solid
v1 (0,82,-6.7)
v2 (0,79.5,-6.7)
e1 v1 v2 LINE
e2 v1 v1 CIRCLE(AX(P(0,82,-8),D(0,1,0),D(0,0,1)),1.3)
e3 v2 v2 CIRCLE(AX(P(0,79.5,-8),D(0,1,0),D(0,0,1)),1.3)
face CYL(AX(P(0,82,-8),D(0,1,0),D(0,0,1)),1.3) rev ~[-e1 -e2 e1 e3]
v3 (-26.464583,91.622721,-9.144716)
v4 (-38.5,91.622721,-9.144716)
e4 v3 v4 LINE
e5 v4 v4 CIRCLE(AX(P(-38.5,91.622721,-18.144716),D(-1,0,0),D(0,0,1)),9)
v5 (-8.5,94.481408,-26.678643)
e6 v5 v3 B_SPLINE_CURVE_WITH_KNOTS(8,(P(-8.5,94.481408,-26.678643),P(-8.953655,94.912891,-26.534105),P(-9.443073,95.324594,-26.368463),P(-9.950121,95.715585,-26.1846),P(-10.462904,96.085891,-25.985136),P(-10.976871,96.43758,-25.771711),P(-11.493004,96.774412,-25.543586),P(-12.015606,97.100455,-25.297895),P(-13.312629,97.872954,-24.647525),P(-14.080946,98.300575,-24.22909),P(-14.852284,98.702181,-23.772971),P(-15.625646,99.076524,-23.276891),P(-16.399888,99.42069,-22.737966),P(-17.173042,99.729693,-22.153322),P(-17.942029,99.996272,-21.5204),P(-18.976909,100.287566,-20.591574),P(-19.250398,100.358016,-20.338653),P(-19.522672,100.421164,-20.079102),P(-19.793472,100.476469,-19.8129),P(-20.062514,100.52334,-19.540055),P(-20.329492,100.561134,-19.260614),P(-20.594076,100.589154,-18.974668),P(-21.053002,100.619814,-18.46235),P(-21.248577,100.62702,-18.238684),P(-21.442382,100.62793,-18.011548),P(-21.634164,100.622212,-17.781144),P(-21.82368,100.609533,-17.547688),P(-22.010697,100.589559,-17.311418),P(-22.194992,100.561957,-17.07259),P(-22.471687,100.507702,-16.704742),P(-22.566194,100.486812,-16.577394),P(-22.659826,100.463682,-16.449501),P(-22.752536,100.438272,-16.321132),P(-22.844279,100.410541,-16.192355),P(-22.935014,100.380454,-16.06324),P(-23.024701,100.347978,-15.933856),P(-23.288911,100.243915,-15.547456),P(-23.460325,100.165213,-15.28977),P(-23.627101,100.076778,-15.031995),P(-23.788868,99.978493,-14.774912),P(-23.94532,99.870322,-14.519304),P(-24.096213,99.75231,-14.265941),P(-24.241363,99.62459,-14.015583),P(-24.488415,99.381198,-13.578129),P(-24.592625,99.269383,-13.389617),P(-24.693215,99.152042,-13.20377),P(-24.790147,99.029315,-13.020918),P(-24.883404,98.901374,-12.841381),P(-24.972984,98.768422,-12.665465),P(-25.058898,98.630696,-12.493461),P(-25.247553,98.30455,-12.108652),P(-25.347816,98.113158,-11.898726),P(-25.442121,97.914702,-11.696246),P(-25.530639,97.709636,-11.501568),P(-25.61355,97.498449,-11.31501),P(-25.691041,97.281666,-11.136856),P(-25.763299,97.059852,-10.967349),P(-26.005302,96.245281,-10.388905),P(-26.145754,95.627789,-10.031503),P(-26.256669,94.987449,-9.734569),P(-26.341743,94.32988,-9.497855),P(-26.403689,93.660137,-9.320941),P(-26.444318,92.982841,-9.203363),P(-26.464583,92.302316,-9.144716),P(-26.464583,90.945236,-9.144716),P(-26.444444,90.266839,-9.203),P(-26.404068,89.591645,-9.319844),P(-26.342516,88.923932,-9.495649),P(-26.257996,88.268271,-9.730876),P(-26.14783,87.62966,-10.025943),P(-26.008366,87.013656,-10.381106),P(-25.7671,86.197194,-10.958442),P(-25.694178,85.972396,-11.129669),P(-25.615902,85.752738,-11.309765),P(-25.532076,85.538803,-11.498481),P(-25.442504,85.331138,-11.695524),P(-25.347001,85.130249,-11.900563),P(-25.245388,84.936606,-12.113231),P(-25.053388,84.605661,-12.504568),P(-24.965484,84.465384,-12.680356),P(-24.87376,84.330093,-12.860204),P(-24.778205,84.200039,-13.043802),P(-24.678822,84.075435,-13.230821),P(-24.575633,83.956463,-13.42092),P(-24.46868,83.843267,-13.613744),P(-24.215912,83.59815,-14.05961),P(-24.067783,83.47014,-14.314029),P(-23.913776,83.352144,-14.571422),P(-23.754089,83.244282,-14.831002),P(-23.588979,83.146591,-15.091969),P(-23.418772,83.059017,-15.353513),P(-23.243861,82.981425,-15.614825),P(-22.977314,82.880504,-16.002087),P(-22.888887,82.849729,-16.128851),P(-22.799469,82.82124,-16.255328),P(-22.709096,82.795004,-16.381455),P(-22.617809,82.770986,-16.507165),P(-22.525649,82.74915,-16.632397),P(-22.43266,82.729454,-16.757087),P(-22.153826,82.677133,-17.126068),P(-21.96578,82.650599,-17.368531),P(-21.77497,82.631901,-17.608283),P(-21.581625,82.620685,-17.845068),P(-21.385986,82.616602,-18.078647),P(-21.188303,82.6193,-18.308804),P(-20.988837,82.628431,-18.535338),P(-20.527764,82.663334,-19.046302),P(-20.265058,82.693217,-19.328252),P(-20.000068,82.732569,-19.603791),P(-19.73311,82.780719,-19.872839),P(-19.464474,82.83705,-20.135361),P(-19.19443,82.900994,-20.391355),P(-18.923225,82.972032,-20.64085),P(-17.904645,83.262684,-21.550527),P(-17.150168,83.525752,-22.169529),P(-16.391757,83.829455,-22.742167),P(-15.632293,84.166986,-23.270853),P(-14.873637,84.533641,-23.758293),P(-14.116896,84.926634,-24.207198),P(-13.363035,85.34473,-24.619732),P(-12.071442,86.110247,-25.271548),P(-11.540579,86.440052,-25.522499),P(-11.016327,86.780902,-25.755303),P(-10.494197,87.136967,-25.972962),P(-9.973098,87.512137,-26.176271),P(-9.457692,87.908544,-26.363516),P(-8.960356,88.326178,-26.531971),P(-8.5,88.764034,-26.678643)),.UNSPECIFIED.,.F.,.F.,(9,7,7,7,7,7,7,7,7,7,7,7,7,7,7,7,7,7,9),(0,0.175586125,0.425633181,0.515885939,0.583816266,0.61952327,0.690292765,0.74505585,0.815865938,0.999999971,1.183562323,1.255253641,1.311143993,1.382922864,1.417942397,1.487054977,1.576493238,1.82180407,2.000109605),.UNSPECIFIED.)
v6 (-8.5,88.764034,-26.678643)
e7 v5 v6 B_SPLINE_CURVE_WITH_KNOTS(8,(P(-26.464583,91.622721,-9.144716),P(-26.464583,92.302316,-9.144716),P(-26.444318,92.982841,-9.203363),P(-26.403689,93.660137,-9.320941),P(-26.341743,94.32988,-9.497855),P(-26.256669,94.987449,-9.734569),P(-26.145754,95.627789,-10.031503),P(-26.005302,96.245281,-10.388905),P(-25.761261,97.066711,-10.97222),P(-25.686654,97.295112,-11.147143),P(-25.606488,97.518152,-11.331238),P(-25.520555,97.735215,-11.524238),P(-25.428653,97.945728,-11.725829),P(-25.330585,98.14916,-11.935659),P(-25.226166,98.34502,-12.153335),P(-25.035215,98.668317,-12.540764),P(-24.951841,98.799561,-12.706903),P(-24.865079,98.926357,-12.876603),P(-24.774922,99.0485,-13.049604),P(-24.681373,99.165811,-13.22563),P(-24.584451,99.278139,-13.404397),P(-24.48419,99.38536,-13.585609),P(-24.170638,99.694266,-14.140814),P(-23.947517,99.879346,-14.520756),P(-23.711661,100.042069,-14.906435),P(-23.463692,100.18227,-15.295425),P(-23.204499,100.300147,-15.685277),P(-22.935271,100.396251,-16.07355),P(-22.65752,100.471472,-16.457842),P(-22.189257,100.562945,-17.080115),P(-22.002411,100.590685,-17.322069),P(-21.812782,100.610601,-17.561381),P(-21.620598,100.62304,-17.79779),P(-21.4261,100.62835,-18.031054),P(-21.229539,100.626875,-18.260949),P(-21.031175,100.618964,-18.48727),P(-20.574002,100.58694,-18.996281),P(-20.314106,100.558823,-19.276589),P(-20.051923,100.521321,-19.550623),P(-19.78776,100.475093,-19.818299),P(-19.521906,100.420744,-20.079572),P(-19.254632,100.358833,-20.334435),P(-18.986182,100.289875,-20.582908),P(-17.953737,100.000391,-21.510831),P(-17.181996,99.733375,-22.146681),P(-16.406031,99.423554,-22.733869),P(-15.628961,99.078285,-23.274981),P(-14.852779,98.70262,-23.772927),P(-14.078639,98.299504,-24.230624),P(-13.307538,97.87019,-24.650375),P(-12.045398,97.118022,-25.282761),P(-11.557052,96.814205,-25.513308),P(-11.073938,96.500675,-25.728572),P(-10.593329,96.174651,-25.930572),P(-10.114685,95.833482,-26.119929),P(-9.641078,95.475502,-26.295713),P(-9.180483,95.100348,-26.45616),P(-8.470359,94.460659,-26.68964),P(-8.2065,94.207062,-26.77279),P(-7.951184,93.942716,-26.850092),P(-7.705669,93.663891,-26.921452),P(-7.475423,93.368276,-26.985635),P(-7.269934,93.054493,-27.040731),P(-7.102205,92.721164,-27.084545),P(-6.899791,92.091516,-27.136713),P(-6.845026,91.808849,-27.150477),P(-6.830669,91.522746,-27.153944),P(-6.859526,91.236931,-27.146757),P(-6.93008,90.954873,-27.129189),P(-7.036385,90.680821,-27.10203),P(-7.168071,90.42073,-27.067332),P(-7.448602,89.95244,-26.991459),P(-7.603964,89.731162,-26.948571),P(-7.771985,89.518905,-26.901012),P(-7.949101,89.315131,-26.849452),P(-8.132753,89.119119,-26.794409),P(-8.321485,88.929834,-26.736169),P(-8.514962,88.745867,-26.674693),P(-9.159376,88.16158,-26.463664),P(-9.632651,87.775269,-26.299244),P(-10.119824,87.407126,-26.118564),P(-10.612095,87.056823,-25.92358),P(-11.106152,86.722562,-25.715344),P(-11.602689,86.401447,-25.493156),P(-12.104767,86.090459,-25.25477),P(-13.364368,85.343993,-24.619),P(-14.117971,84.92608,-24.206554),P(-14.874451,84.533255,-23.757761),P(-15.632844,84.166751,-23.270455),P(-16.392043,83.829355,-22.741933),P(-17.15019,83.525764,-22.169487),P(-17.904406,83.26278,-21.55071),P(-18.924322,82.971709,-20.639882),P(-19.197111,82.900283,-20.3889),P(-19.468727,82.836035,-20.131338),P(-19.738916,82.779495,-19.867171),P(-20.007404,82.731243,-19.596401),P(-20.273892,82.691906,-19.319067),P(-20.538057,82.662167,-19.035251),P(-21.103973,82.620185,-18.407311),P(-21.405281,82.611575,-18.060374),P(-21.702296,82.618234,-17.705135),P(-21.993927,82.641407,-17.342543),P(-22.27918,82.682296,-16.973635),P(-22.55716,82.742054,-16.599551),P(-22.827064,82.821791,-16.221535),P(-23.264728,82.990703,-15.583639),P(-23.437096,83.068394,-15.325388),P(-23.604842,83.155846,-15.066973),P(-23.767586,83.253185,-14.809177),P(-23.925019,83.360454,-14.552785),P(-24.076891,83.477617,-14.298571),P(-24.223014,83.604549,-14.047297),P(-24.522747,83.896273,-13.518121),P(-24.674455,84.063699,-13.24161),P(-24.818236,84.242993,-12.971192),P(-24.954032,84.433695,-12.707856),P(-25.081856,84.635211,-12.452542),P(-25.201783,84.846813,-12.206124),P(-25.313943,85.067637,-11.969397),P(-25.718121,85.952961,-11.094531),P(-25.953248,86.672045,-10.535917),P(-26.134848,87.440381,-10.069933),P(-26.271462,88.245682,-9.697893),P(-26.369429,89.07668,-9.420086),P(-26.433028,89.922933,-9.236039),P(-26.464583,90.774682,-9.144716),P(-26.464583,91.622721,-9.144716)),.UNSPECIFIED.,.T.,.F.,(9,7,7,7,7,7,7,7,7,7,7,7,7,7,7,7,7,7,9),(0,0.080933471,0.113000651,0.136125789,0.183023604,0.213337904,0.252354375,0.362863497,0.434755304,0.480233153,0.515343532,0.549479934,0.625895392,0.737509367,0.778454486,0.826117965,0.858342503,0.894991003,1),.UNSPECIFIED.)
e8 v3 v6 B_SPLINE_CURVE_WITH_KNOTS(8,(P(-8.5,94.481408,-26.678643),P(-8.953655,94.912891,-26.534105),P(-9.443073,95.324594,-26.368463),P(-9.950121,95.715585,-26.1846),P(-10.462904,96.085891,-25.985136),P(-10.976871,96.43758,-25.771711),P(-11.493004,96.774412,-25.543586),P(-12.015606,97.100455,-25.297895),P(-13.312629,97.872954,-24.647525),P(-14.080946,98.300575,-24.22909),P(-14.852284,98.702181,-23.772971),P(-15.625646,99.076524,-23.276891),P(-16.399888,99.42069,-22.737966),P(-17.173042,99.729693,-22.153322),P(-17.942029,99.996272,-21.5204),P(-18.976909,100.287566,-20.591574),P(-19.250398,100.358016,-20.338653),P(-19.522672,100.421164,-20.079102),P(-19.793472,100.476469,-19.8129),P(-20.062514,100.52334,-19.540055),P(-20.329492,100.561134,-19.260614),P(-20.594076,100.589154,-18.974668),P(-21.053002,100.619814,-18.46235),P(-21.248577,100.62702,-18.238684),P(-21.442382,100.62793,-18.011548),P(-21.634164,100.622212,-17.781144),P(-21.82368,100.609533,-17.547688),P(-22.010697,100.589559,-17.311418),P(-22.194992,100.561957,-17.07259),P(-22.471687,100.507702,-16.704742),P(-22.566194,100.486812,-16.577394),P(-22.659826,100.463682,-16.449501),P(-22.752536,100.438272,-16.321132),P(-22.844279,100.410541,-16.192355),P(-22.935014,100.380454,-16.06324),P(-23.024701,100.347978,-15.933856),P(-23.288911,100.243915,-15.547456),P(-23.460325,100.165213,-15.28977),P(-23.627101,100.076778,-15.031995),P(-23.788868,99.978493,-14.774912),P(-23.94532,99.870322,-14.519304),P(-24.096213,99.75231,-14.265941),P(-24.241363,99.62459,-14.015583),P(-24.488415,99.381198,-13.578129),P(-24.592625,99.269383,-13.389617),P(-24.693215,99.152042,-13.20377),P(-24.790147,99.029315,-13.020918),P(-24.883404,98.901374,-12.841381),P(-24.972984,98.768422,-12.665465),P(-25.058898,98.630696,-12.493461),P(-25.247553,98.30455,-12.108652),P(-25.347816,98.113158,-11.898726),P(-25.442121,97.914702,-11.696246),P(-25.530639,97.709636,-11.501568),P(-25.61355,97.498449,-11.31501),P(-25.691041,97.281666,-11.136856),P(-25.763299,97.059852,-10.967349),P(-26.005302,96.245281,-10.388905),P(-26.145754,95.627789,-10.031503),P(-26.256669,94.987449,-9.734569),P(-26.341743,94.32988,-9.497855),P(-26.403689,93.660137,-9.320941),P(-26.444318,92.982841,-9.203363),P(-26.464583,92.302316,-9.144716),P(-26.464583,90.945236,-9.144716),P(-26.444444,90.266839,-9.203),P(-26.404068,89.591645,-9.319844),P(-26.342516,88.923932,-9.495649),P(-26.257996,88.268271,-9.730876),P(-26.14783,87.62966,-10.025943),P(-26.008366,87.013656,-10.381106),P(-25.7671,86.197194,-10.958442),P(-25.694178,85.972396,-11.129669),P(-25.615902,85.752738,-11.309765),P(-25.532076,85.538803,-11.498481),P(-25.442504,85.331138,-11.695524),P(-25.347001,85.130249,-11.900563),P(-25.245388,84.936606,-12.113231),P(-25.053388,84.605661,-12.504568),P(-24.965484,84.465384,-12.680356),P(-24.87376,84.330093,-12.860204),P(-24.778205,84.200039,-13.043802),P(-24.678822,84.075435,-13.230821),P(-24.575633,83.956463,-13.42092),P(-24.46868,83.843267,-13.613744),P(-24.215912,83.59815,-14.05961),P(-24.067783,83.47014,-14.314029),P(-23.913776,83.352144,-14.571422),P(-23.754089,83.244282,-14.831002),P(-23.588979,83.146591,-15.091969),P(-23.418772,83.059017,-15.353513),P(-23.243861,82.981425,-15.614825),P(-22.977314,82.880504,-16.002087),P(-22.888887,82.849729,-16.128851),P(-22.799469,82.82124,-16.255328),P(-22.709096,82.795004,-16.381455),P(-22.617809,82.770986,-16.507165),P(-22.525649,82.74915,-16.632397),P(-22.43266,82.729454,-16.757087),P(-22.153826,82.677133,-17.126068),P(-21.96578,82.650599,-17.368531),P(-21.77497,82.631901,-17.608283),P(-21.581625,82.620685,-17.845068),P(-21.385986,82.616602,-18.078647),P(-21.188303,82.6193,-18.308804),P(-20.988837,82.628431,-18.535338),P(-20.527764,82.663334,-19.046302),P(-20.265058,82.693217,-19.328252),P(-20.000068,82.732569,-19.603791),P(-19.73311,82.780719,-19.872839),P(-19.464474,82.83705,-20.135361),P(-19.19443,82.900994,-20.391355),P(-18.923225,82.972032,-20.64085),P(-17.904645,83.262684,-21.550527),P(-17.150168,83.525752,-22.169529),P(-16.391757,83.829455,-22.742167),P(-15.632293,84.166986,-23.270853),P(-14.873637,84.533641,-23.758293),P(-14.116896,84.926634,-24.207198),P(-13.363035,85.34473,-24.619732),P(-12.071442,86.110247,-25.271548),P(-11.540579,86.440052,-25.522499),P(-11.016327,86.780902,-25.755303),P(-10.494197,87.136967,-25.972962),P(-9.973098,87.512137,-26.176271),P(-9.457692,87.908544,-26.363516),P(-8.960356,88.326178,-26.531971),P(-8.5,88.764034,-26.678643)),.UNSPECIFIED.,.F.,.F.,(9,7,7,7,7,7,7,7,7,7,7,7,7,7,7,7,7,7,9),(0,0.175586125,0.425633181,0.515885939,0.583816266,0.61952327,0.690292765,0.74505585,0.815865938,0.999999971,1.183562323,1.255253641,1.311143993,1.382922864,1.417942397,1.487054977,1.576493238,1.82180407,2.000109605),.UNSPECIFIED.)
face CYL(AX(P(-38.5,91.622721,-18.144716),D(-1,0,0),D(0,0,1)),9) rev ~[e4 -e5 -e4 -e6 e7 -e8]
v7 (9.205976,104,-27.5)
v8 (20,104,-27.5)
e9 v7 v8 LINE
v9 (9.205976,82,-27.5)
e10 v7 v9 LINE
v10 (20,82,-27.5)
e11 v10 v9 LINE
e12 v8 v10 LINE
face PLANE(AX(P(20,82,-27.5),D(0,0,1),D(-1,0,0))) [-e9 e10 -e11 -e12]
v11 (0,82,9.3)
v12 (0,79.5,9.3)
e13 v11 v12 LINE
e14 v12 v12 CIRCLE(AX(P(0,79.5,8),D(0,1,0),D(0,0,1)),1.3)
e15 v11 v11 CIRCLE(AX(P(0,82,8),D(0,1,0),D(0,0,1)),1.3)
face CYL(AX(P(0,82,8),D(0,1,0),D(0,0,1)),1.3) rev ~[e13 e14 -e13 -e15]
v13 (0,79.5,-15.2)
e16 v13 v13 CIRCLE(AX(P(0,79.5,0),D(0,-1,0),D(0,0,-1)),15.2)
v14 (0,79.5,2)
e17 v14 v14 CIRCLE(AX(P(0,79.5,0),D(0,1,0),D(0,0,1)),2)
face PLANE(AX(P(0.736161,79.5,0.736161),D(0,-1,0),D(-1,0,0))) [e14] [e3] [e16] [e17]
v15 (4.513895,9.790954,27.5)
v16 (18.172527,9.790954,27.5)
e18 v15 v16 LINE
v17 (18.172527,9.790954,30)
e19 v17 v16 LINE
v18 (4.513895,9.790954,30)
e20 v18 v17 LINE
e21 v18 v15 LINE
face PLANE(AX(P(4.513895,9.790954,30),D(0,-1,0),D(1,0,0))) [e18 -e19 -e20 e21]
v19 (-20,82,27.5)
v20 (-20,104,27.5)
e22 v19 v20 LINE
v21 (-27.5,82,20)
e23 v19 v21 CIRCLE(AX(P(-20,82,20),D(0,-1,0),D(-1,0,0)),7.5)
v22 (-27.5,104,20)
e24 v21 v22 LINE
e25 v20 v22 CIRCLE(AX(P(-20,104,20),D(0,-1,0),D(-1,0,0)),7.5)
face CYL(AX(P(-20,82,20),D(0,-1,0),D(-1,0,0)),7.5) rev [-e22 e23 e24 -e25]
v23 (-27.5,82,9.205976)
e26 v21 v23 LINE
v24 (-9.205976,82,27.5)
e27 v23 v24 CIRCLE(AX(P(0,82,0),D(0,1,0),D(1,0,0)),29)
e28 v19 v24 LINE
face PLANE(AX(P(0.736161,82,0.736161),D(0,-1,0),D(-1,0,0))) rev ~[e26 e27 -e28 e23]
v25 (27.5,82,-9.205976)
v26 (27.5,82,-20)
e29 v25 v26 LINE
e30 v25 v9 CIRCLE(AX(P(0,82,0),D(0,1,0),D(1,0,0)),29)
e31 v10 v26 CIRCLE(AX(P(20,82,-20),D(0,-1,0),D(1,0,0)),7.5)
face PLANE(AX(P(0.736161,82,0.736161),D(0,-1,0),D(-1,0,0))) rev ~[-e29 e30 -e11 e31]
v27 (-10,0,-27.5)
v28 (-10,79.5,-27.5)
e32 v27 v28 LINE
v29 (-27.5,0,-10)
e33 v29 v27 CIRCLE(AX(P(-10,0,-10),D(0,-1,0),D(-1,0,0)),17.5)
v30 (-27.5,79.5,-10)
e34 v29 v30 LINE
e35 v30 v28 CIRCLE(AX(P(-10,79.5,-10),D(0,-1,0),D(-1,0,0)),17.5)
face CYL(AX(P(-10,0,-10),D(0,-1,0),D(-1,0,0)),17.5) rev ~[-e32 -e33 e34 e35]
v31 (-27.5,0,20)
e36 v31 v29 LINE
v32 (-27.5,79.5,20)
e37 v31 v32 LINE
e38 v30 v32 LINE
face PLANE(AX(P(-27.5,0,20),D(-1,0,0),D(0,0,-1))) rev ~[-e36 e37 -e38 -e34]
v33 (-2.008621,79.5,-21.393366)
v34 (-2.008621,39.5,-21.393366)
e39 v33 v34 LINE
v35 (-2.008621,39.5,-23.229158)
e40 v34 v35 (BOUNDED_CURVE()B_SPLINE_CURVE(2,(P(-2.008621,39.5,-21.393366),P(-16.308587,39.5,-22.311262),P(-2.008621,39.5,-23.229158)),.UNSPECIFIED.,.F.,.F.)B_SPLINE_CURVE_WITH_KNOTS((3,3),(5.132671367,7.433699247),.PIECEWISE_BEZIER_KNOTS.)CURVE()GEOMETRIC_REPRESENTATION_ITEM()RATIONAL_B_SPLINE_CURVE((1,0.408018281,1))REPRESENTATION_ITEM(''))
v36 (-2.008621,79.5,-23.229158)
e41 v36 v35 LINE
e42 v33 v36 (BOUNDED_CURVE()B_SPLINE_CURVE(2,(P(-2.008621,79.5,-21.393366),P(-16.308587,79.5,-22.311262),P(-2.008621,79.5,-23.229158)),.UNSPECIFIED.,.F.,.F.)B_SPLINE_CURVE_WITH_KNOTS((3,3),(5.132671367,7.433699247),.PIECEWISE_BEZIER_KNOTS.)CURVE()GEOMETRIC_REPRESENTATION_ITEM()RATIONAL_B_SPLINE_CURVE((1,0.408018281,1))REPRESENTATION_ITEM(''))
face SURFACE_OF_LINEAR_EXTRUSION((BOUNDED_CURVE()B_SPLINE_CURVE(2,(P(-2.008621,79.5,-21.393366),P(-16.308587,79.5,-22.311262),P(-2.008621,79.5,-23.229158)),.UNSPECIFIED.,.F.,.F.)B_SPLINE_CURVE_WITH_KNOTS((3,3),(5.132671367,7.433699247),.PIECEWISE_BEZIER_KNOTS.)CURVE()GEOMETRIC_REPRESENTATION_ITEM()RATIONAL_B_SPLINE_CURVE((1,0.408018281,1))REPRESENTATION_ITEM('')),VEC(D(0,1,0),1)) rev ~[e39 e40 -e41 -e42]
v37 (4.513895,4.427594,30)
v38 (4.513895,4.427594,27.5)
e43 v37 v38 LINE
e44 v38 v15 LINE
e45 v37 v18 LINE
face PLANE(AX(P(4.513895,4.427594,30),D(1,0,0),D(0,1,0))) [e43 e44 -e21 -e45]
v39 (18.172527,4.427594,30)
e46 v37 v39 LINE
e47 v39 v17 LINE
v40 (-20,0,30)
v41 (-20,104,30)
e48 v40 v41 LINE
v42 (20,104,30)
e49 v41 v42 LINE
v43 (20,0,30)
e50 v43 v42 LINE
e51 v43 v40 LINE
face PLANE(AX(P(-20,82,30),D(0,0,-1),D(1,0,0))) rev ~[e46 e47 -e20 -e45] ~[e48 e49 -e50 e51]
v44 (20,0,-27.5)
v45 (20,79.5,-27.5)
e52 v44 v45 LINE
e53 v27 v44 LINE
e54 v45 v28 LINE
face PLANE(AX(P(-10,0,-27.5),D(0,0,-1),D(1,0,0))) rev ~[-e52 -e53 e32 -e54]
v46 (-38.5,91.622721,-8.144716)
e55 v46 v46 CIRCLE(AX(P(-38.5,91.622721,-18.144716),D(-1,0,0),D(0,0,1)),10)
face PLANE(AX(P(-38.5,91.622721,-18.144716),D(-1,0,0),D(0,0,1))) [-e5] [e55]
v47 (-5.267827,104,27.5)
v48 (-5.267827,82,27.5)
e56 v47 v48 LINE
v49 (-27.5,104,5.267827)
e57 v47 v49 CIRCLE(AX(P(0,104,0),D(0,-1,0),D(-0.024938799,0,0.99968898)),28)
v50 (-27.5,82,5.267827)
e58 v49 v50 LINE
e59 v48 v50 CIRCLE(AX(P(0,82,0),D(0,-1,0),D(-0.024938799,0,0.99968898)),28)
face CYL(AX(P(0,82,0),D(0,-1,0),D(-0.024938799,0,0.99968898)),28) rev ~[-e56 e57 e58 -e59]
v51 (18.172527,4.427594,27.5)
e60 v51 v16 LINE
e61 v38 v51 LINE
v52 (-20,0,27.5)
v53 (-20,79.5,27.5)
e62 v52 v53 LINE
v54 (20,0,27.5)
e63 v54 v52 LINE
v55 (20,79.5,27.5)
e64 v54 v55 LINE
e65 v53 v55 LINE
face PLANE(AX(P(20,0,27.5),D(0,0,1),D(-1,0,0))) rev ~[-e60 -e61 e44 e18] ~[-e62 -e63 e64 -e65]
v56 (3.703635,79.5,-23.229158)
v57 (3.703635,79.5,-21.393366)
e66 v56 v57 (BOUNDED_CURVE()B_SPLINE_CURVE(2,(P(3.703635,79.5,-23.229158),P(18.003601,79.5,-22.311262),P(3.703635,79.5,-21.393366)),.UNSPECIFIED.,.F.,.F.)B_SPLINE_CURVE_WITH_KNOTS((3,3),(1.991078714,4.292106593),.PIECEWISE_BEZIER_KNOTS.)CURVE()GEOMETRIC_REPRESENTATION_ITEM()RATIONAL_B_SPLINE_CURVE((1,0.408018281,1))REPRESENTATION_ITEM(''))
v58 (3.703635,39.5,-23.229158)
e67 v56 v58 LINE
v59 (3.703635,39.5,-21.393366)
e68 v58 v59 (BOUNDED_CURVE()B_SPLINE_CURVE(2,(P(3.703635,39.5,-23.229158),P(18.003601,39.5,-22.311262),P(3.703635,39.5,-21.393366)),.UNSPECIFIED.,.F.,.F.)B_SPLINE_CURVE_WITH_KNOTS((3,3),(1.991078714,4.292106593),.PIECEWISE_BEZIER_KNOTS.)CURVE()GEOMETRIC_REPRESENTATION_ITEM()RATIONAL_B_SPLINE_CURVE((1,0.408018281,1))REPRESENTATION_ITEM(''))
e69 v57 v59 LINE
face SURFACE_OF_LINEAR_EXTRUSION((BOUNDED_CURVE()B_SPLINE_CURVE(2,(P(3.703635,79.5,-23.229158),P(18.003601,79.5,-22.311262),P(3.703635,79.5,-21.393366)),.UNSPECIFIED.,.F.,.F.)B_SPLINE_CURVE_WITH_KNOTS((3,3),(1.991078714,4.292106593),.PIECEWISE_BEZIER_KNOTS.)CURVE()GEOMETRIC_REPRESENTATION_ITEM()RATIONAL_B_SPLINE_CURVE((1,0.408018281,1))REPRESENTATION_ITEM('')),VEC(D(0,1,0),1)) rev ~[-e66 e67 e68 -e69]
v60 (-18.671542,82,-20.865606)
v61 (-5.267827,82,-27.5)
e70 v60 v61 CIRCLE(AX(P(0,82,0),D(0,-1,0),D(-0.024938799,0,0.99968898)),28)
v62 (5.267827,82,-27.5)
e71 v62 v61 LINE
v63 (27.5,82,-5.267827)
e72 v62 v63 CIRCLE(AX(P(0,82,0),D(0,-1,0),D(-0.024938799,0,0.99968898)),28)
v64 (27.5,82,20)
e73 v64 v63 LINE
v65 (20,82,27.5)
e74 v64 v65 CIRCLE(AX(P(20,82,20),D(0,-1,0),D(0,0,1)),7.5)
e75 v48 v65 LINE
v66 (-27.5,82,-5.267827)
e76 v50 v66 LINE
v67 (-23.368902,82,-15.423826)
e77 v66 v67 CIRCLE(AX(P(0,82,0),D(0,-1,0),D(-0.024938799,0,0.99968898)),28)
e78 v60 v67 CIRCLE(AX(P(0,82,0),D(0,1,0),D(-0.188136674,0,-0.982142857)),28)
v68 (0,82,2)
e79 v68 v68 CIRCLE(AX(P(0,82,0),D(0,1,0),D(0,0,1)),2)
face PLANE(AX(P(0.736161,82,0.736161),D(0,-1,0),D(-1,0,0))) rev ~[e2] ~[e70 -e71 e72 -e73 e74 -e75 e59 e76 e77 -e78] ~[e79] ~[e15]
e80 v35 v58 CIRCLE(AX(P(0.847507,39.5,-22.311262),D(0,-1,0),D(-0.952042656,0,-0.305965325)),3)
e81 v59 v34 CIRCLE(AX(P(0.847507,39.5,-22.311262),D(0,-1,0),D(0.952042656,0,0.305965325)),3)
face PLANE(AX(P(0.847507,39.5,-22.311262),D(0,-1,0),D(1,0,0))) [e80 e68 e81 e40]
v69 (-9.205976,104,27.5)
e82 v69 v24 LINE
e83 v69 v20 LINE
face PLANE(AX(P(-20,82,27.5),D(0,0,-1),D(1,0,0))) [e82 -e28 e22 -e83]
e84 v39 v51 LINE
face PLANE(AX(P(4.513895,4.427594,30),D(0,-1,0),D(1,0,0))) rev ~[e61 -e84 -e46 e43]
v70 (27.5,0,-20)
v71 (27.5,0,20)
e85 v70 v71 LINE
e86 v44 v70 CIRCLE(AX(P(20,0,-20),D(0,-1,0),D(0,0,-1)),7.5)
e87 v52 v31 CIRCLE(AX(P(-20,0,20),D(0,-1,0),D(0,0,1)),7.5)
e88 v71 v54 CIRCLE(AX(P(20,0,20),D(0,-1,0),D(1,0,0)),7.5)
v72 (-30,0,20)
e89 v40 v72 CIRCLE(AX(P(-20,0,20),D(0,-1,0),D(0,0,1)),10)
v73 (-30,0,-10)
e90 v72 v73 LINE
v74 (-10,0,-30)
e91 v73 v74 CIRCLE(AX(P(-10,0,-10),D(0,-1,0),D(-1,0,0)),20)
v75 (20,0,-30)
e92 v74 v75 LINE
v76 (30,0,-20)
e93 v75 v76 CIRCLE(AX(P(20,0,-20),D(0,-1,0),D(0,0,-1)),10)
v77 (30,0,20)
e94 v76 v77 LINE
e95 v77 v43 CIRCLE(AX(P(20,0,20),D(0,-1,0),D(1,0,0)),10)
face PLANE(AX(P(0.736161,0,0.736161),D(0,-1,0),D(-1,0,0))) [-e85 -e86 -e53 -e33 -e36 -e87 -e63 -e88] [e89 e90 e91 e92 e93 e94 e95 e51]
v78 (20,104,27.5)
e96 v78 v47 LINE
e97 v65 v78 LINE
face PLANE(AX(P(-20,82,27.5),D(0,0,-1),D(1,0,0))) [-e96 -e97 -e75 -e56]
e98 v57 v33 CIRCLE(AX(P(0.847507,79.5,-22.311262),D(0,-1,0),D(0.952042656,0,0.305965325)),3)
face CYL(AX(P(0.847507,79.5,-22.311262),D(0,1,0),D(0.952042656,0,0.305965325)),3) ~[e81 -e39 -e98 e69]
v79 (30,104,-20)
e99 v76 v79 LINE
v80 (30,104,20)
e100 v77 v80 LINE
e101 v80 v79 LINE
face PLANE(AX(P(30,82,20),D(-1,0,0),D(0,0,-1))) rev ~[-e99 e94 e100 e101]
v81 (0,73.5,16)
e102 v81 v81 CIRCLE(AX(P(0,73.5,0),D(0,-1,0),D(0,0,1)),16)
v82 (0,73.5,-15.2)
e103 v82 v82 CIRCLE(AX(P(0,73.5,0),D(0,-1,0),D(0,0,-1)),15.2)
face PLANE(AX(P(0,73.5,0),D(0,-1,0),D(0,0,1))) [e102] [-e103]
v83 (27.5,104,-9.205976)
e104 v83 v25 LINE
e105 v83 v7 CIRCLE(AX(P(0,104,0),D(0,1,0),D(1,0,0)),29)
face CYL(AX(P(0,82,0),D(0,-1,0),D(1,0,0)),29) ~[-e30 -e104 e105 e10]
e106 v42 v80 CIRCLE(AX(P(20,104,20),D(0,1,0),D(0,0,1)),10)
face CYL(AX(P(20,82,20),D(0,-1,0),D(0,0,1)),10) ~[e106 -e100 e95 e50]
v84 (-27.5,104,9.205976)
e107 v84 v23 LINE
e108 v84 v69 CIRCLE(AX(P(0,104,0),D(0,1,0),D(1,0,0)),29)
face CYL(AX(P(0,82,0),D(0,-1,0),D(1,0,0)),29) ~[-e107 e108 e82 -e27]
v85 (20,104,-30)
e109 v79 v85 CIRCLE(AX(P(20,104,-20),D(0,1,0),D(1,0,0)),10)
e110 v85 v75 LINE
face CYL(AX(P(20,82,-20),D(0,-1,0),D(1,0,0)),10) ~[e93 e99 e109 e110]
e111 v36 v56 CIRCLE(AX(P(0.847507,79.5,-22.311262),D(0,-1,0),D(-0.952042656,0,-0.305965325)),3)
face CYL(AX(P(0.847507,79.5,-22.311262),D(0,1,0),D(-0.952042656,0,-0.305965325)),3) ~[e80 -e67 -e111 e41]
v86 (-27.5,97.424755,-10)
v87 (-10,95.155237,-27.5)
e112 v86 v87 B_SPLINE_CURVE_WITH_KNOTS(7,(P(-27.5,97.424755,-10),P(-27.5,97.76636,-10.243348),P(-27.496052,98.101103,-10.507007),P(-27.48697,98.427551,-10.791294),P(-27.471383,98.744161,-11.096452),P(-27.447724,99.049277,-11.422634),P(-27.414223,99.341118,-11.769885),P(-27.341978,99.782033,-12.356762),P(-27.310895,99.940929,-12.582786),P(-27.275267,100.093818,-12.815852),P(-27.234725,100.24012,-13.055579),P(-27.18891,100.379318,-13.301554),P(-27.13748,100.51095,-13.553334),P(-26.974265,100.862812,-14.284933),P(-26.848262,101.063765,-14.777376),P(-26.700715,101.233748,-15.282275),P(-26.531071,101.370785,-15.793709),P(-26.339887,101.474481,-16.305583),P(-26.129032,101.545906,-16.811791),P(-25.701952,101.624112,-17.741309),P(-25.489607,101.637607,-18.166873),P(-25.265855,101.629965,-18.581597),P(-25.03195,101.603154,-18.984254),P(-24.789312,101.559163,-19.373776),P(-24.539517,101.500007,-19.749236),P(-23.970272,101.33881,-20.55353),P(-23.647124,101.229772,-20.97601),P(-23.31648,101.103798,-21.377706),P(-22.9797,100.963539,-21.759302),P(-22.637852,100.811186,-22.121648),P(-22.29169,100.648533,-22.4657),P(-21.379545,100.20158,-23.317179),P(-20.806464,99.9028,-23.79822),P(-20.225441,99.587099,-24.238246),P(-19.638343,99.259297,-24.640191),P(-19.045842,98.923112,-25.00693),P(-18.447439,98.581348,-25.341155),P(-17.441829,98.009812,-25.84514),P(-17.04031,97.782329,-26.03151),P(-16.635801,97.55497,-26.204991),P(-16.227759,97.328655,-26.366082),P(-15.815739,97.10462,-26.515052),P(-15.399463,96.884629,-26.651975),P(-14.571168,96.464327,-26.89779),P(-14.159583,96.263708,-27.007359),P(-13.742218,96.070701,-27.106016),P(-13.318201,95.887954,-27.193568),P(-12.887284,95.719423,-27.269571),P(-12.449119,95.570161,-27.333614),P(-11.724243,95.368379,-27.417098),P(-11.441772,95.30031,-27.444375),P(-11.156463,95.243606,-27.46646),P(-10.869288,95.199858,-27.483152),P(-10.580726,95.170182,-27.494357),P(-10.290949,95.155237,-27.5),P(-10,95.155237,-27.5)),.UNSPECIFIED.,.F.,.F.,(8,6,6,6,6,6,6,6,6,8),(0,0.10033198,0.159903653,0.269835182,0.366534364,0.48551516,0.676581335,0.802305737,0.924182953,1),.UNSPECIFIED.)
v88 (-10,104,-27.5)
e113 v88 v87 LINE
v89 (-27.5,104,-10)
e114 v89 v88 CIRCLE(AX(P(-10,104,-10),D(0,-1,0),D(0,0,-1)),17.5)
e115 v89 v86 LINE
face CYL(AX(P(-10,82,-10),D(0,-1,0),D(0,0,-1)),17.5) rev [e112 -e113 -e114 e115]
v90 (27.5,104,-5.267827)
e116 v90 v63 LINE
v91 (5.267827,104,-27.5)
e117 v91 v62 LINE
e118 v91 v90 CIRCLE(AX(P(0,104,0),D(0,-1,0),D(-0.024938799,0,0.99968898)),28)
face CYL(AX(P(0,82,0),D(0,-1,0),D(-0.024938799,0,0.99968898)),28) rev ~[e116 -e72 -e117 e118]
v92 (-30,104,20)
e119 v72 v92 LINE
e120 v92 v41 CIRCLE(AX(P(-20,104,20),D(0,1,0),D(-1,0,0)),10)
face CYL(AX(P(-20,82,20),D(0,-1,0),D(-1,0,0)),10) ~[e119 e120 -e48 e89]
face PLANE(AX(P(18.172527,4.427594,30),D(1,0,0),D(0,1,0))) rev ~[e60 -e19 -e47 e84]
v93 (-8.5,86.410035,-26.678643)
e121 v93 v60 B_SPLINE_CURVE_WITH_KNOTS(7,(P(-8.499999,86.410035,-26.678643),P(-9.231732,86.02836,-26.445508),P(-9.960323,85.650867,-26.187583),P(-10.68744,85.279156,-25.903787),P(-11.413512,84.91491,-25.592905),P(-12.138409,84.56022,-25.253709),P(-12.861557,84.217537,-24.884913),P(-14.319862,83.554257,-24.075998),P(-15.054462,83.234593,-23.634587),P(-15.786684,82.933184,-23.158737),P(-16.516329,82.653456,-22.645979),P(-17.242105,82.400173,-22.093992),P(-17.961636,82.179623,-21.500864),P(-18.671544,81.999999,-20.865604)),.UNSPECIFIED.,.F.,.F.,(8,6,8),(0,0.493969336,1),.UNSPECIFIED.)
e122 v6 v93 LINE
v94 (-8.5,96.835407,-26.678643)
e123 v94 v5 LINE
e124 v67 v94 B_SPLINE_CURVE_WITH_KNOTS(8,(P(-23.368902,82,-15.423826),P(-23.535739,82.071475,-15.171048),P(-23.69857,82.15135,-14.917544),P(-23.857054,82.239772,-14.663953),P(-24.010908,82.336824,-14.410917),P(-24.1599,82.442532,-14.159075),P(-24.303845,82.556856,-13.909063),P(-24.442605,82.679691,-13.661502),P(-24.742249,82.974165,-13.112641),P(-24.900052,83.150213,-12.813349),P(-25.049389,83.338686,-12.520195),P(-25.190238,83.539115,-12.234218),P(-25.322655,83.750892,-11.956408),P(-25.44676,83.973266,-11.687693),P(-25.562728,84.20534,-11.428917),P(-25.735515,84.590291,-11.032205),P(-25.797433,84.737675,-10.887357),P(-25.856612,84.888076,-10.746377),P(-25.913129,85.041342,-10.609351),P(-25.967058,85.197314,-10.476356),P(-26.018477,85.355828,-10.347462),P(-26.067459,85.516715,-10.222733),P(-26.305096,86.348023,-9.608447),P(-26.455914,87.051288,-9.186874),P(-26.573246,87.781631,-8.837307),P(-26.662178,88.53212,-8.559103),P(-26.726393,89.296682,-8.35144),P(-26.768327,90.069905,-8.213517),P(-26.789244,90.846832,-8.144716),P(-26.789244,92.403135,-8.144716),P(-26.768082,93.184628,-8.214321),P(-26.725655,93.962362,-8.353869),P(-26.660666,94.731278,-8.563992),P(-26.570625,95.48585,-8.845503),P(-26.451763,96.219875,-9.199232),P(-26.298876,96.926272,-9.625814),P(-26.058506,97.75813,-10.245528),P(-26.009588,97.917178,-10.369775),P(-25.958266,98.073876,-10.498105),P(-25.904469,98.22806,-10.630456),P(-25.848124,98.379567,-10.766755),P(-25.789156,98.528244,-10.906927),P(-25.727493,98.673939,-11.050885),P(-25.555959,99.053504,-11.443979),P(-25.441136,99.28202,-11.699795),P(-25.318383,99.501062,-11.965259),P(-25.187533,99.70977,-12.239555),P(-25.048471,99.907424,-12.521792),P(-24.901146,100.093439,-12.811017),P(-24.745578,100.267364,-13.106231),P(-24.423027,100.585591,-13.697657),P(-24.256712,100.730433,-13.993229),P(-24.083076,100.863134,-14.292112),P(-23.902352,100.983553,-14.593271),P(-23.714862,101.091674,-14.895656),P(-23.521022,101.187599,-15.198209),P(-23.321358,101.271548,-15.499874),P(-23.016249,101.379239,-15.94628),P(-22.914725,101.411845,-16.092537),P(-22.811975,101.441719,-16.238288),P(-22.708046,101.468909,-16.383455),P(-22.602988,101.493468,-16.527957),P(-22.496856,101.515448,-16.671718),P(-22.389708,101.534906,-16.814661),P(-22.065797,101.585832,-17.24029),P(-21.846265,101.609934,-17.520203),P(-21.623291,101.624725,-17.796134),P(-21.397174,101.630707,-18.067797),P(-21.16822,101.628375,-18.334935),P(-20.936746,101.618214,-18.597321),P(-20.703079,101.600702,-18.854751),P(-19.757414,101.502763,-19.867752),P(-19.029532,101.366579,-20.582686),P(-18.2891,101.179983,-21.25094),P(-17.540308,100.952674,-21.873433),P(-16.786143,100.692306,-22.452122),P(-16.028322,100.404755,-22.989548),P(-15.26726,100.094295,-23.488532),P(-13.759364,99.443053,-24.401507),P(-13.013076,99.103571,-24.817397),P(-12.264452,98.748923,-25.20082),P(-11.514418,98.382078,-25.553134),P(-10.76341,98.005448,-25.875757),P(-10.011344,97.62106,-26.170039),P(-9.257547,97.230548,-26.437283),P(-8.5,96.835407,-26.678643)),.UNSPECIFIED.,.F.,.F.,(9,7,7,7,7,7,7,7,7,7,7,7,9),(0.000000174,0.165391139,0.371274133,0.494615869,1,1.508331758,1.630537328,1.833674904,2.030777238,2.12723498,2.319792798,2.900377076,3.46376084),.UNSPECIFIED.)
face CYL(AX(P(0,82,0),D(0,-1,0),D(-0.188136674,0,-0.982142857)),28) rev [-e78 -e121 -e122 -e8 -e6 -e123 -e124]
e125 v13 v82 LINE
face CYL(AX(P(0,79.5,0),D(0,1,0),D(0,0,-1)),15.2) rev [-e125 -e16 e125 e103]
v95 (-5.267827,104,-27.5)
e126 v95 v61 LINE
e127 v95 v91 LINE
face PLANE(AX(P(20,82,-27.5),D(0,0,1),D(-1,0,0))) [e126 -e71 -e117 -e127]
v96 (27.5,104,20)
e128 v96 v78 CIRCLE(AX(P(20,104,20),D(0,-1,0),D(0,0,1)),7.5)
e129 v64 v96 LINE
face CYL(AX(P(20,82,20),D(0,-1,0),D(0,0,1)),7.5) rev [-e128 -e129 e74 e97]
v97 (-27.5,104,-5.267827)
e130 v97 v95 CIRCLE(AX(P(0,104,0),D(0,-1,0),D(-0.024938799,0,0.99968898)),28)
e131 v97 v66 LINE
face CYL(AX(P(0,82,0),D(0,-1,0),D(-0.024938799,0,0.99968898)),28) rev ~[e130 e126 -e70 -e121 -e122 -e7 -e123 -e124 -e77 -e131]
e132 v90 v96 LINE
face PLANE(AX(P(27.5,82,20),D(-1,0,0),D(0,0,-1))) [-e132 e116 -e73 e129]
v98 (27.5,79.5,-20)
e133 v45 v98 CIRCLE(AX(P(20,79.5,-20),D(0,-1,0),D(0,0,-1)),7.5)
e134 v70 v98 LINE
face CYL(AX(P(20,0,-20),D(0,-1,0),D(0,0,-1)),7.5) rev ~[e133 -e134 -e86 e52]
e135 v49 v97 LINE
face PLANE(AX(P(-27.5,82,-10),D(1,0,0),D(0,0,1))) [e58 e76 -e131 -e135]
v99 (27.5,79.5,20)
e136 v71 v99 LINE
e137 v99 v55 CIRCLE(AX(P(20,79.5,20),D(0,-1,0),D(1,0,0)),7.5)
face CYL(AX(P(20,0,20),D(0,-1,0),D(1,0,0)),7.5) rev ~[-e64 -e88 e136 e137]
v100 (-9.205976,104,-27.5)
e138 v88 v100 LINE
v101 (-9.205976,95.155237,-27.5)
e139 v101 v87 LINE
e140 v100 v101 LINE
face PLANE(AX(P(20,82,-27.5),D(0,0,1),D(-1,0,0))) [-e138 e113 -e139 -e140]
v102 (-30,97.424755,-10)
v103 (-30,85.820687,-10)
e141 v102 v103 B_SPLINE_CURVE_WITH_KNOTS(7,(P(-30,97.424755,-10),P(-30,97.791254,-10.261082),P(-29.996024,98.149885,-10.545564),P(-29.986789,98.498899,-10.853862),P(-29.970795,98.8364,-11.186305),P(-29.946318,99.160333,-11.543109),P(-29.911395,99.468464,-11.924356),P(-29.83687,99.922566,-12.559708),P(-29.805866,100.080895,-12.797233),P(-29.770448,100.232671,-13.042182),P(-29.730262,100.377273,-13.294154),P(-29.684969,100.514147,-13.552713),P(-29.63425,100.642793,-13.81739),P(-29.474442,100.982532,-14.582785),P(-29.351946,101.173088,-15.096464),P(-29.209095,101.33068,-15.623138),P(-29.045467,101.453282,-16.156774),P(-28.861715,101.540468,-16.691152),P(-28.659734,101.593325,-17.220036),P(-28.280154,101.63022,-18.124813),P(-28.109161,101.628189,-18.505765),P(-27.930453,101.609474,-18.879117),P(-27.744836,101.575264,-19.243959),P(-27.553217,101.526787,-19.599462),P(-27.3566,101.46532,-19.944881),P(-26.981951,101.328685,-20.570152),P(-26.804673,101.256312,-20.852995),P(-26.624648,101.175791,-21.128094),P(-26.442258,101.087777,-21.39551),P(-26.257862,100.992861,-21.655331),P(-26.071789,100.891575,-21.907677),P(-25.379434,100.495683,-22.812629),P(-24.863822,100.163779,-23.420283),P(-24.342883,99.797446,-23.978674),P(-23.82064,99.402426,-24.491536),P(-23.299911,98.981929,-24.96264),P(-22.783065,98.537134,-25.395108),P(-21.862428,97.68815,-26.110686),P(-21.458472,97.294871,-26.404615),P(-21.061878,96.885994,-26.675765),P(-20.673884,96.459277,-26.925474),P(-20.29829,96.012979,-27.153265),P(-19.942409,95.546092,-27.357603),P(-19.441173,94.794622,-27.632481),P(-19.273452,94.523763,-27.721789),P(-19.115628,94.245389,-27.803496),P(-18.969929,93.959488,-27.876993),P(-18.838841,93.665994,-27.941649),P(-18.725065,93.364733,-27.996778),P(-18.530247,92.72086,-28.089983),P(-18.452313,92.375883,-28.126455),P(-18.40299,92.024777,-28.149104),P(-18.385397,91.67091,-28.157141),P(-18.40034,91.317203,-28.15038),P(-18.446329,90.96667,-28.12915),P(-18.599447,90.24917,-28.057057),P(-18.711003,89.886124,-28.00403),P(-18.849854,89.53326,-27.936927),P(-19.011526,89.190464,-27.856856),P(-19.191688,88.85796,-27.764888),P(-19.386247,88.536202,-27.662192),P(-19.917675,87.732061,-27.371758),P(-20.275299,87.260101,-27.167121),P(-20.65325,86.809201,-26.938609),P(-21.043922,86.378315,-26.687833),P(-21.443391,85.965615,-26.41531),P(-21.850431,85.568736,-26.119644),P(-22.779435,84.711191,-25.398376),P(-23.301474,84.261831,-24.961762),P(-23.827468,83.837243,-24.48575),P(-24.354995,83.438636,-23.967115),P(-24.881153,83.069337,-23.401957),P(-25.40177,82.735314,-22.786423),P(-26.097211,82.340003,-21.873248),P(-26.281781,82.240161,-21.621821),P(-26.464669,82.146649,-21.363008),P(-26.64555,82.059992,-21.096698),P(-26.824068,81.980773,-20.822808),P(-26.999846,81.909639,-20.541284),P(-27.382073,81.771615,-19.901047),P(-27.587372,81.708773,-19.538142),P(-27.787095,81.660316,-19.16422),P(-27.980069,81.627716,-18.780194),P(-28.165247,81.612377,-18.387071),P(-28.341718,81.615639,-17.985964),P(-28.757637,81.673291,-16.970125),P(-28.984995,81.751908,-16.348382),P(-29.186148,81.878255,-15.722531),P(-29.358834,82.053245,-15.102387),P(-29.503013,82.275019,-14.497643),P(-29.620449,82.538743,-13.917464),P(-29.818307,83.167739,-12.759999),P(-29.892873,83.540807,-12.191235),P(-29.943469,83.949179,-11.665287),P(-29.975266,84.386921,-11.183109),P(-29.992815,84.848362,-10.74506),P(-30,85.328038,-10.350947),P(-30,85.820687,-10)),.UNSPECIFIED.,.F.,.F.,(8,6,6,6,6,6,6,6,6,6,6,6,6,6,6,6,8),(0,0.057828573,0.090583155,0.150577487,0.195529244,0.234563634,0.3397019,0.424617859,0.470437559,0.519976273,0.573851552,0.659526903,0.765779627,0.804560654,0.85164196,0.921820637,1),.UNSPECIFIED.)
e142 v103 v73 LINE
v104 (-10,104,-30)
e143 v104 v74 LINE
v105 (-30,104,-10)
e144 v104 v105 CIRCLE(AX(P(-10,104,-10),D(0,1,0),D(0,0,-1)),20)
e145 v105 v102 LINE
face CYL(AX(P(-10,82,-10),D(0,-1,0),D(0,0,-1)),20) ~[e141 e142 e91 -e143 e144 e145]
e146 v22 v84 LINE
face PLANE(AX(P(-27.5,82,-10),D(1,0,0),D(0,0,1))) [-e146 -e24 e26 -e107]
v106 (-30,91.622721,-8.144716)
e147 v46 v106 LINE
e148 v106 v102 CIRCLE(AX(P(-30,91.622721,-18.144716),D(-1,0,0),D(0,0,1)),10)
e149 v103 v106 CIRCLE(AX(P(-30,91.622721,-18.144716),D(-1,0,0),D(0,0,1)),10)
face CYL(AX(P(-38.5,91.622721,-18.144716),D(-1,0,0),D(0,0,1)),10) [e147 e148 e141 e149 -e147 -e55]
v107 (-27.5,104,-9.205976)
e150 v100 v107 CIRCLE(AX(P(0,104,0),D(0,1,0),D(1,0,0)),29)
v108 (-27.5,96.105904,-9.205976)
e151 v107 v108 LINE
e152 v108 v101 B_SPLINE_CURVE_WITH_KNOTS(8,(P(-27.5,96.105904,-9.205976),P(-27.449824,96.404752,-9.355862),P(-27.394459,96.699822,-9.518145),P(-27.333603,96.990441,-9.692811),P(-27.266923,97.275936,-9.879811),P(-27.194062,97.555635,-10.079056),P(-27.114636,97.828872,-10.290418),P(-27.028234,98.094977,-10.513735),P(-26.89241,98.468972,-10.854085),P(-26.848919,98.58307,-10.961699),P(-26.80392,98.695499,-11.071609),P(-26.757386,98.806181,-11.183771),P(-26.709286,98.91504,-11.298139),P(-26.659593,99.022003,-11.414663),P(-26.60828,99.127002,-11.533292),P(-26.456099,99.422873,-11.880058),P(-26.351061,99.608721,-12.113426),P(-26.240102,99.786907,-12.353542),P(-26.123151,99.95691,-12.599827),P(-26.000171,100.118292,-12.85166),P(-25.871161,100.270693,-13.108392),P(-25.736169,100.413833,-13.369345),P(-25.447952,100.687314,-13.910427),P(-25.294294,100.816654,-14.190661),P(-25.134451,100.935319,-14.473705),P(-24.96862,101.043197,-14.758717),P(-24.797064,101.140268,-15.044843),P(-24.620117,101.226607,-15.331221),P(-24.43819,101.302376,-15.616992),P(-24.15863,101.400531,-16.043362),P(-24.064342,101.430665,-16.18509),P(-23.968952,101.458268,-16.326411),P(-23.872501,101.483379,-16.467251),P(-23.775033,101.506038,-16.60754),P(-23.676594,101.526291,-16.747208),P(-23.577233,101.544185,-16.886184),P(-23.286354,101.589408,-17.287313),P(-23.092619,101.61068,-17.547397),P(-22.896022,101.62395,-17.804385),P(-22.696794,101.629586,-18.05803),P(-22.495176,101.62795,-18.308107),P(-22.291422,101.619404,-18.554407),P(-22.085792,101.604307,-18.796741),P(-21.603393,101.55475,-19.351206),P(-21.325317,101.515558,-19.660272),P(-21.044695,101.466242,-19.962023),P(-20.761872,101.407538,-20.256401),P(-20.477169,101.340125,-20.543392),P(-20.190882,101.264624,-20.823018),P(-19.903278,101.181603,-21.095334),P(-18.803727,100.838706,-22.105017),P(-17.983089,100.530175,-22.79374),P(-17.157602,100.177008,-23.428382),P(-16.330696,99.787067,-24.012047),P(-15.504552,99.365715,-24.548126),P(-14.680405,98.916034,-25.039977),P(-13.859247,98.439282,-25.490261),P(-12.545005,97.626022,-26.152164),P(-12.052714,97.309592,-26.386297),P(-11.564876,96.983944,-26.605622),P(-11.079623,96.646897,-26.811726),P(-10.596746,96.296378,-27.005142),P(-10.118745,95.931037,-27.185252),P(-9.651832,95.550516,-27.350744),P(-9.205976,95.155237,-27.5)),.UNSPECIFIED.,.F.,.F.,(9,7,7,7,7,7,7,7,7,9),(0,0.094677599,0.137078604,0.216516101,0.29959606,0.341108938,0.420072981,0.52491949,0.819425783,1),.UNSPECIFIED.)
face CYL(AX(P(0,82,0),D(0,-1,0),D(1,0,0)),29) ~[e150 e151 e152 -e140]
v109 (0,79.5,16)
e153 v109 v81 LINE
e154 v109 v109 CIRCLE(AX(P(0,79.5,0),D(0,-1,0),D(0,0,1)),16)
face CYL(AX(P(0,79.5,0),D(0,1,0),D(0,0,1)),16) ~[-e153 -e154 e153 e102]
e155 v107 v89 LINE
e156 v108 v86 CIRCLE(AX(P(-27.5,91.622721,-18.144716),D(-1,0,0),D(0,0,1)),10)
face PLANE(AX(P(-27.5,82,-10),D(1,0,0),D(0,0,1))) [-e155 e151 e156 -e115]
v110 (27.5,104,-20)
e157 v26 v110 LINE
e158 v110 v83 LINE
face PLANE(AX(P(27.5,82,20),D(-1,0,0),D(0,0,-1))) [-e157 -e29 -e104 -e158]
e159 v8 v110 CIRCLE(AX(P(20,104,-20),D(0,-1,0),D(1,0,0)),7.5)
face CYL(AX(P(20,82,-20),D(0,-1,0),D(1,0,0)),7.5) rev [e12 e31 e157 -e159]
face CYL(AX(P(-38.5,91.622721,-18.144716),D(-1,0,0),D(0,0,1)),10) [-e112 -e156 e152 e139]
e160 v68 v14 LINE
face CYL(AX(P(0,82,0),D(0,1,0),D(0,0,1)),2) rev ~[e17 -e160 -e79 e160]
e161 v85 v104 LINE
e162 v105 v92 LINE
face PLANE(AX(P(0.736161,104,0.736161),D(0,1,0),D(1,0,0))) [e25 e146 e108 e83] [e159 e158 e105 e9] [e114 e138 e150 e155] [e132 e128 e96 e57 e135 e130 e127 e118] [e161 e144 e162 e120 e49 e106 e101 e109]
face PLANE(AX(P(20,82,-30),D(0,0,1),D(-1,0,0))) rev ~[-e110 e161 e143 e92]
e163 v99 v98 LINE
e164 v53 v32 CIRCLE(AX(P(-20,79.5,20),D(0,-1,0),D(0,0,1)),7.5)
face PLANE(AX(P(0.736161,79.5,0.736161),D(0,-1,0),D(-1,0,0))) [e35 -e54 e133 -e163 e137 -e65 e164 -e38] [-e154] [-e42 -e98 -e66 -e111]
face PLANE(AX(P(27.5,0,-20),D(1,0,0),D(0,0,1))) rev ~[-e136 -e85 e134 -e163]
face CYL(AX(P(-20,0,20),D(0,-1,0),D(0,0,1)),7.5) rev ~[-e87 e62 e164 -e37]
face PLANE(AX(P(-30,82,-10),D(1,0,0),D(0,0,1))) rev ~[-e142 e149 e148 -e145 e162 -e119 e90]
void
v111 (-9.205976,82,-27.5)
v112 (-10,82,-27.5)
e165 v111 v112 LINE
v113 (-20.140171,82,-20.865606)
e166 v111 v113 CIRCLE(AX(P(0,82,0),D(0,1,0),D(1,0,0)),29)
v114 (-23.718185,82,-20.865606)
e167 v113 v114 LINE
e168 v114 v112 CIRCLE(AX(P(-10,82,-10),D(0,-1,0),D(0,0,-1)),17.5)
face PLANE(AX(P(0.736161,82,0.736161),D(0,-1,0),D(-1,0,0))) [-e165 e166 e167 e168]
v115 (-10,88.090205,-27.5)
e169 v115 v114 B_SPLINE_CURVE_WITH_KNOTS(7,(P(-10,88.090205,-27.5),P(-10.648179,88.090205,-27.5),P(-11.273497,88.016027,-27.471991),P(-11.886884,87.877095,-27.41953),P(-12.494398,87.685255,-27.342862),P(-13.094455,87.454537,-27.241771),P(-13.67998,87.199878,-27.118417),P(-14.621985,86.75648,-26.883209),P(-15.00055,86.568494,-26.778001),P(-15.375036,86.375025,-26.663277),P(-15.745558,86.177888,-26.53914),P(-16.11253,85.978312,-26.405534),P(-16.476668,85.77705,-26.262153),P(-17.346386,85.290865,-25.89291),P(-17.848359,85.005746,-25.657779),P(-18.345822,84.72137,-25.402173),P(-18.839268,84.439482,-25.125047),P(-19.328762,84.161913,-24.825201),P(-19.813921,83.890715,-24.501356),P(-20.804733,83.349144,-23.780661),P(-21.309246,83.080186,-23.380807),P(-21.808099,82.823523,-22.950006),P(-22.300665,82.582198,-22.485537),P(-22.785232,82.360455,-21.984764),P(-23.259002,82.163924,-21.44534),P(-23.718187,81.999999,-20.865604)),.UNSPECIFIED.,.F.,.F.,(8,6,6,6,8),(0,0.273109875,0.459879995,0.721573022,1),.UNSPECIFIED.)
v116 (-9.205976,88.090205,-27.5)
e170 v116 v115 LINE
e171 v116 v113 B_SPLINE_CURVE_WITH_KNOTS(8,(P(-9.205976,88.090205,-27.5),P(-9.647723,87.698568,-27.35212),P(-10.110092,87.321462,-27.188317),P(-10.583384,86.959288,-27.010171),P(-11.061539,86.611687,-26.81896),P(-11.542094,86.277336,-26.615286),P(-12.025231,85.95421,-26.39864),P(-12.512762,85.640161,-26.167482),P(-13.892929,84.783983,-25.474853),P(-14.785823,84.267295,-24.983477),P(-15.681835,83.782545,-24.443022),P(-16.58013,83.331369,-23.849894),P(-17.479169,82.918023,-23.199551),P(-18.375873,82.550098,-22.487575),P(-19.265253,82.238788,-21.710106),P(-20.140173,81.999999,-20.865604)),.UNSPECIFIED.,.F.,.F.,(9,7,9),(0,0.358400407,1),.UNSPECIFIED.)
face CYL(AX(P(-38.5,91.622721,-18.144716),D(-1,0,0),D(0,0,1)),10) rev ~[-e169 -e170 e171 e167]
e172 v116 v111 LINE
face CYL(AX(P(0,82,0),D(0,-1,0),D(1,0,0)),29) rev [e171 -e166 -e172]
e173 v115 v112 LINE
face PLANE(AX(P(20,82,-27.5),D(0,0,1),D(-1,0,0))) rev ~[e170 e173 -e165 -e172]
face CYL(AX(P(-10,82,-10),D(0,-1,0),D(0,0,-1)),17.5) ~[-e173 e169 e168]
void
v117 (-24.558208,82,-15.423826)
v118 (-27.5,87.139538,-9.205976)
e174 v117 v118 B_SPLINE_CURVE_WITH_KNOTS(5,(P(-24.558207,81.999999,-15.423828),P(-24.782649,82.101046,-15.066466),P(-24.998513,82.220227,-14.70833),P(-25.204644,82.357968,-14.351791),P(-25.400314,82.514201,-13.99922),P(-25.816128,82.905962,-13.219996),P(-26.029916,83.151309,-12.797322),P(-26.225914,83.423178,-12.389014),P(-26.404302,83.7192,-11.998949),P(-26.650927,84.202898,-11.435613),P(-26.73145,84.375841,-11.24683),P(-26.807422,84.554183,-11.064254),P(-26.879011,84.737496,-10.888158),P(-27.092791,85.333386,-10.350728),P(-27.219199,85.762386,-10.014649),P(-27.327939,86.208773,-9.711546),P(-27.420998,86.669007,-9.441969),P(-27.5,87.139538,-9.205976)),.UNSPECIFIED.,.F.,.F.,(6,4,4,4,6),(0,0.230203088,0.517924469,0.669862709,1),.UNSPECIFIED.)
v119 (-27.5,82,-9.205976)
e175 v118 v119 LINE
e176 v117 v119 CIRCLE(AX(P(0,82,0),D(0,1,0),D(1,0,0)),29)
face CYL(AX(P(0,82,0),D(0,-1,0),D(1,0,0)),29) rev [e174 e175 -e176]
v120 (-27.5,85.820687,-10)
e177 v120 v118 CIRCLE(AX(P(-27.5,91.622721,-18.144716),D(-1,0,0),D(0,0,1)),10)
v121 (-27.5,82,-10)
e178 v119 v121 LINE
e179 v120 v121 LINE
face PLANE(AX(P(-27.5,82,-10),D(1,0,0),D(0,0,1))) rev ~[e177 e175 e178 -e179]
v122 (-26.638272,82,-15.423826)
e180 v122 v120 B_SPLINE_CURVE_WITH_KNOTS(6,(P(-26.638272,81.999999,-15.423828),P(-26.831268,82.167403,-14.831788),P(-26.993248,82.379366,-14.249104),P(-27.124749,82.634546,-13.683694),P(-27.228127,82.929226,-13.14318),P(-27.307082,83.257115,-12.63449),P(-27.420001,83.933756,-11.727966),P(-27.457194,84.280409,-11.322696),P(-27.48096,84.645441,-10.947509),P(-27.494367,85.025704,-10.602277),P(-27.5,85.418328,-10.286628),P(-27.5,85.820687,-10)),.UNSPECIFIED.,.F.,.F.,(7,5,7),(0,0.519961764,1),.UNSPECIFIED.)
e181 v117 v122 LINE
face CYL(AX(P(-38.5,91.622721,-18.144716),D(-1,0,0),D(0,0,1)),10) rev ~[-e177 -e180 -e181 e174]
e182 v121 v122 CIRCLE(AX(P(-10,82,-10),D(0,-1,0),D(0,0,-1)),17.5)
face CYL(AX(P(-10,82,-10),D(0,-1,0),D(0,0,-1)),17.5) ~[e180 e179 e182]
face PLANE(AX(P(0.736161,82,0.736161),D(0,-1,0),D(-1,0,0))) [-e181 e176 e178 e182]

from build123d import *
from build123d.topology import SkipClean

# Parameters (mm, degrees)
BOSS_EXTRUDE1_DEPTH  = 82
SHELL1_T             = -2.5
BOSS_EXTRUDE2_DEPTH  = 22
SHELL2_T             = -2.5
BOSS_EXTRUDE7_DEPTH  = 22
SKETCH7_R            = 2
SKETCH7_R_2          = 1.3
CUT_EXTRUDE1_DEPTH   = 10
SKETCH8_R            = 16
SKETCH8_R_2          = 15.2
BOSS_EXTRUDE8_DEPTH  = 6
SKETCH10_R           = 10
SKETCH10_R_2         = 9
BOSS_EXTRUDE9_DEPTH  = 30
SKETCH13_R           = 9
CUT_EXTRUDE2_DEPTH   = 40
CUT_EXTRUDE3_START   = -22
CUT_EXTRUDE3_DEPTH   = 22
BOSS_EXTRUDE10_DEPTH = 40
SKETCH16_W           = 13.658631977
SKETCH16_H           = 5.363360903
CUT_EXTRUDE4_DEPTH   = 10


with BuildPart() as part:
    # Sketch2 → Boss-Extrude1 (new body)
    with BuildSketch(Plane(origin=(0, 0, 0), x_dir=(1, 0, 0), z_dir=(0, 1, 0))):
        with BuildLine():
            Line((-10, 30), (20, 30))
            ThreePointArc((20, 30), (27.071067812, 27.071067812), (30, 20))
            Line((30, 20), (30, -20))
            ThreePointArc((30, -20), (27.071067812, -27.071067812), (20, -30))
            Line((20, -30), (-20, -30))
            ThreePointArc((-20, -30), (-27.071067812, -27.071067812), (-30, -20))
            Line((-30, -20), (-30, 10))
            ThreePointArc((-30, 10), (-24.142135624, 24.142135624), (-10, 30))
        make_face()
    extrude(amount=BOSS_EXTRUDE1_DEPTH)

    # Shell1
    shell1_openings = [part.faces().sort_by_distance(p)[0] for p in [
        (0.462600785, 0, 0.462600785),
    ]]
    offset(amount=SHELL1_T, openings=shell1_openings, kind=Kind.INTERSECTION)

    # Sketch5 → Boss-Extrude2 (add)
    with BuildSketch(Plane(origin=(0, 82, 0), x_dir=(1, 0, 0), z_dir=(0, 1, 0))):
        with BuildLine():
            Line((-30, 10), (-30, -20))
            ThreePointArc((-30, -20), (-27.071067812, -27.071067812), (-20, -30))
            Line((-20, -30), (20, -30))
            ThreePointArc((20, -30), (27.071067812, -27.071067812), (30, -20))
            Line((30, -20), (30, 20))
            ThreePointArc((30, 20), (27.071067812, 27.071067812), (20, 30))
            Line((20, 30), (-10, 30))
            ThreePointArc((-10, 30), (-24.142135624, 24.142135624), (-30, 10))
        make_face()
    extrude(amount=BOSS_EXTRUDE2_DEPTH)

    # Shell2
    shell2_openings = [part.faces().sort_by_distance(p)[0] for p in [
        (0.462600785, 104, 0.462600785),
    ]]
    offset(amount=SHELL2_T, openings=shell2_openings, kind=Kind.INTERSECTION)

    # Sketch6 → Boss-Extrude7 (add)
    with BuildSketch(Plane(origin=(0, 82, 0), x_dir=(1, 0, 0), z_dir=(0, 1, 0))):
        with BuildLine():
            Line((-0.723225176, -28.990980414), (-0.698286377, -27.991291434))
            ThreePointArc((-0.698286377, -27.991291434), (-19.550549627, 20.044351056), (28, 0))
            Line((28, 0), (29, 0))
            ThreePointArc((29, 0), (-20.248783543, 20.760220737), (-0.723225176, -28.990980414))
        make_face()
    extrude(amount=BOSS_EXTRUDE7_DEPTH)

    # Sketch7 → Cut-Extrude1 (cut)
    with BuildSketch(Plane(origin=(0, 82, 0), x_dir=(1, 0, 0), z_dir=(0, 1, 0))):
        with Locations(Location((0, 0, 0), (0, 0, 270))):
            Circle(SKETCH7_R)
        with Locations(Location((0, 8, 0), (0, 0, 270))):
            Circle(SKETCH7_R_2)
        with Locations(Location((0, -8, 0), (0, 0, 270))):
            Circle(SKETCH7_R_2)
    extrude(amount=-CUT_EXTRUDE1_DEPTH, mode=Mode.SUBTRACT)

    # Sketch8 → Boss-Extrude8 (add)
    with BuildSketch(Plane.XZ.offset(-79.5)):
        with Locations(Location((0, 0, 0), (0, 0, 90))):
            Circle(SKETCH8_R)
        with Locations(Location((0, 0, 0), (0, 0, 270))):
            Circle(SKETCH8_R_2, mode=Mode.SUBTRACT)
    extrude(amount=BOSS_EXTRUDE8_DEPTH)

    # Sketch10 → Boss-Extrude9 (add)
    with BuildSketch(Plane.ZY.offset(38.5)):
        with Locations((-18.144716291, 91.6227209)):
            Circle(SKETCH10_R)
        with Locations((-18.144716291, 91.6227209)):
            Circle(SKETCH10_R_2, mode=Mode.SUBTRACT)
    extrude(amount=-BOSS_EXTRUDE9_DEPTH)

    # Sketch13 → Cut-Extrude2 (cut)
    with SkipClean():  # the faces are left unmerged after this step: merging them gives an invalid solid
        with BuildSketch(Plane.ZY.offset(38.5)):
            with Locations((-18.144716291, 91.6227209)):
                Circle(SKETCH13_R)
        extrude(amount=-CUT_EXTRUDE2_DEPTH, mode=Mode.SUBTRACT)

    # Sketch14 → Cut-Extrude3 (cut)
    with BuildSketch(Plane(origin=(0, 104, 0), x_dir=(1, 0, 0), z_dir=(0, 1, 0)).offset(CUT_EXTRUDE3_START)):
        with BuildLine():
            Line((-27.5, 5.267826876), (-27.5, -5.267826876))
            ThreePointArc((-27.5, -5.267826876), (-19.798989873, -19.798989873), (-5.267826876, -27.5))
            Line((-5.267826876, -27.5), (20, -27.5))
            ThreePointArc((20, -27.5), (25.303300859, -25.303300859), (27.5, -20))
            Line((27.5, -20), (27.5, 5.267826876))
            ThreePointArc((27.5, 5.267826876), (19.798989873, 19.798989873), (5.267826876, 27.5))
            Line((5.267826876, 27.5), (-5.267826876, 27.5))
            ThreePointArc((-5.267826876, 27.5), (-19.798989873, 19.798989873), (-27.5, 5.267826876))
        make_face()
    extrude(amount=CUT_EXTRUDE3_DEPTH, mode=Mode.SUBTRACT)

    # Sketch15 → Boss-Extrude10 (add)
    with BuildSketch(Plane.XZ.offset(-79.5)):
        with BuildLine():
            ThreePointArc((3.703635336, -21.393366311), (0.847507366, -19.311262287), (-2.008620603, -21.393366311))
            add(Edge.make_bspline(
                [(-2.008620603, -21.393366311), (-16.308586663, -22.311262287), (-2.008620603, -23.229158263)],
                knots=[5.132671367, 5.132671367, 5.132671367, 7.433699247, 7.433699247, 7.433699247], degree=2, weights=[1, 0.408018281, 1]))
            ThreePointArc((-2.008620603, -23.229158263), (0.847507366, -25.311262287), (3.703635336, -23.229158263))
            add(Edge.make_bspline(
                [(3.703635336, -23.229158263), (18.003601395, -22.311262287), (3.703635336, -21.393366311)],
                knots=[1.991078714, 1.991078714, 1.991078714, 4.292106593, 4.292106593, 4.292106593], degree=2, weights=[1, 0.408018281, 1]))
        make_face()
    extrude(amount=BOSS_EXTRUDE10_DEPTH)

    # Sketch16 → Cut-Extrude4 (cut)
    with BuildSketch(Plane.XY.offset(30)):
        with Locations((11.343210565, 7.109274004)):
            Rectangle(SKETCH16_W, SKETCH16_H)
    extrude(amount=-CUT_EXTRUDE4_DEPTH, mode=Mode.SUBTRACT)


solid = part.part
